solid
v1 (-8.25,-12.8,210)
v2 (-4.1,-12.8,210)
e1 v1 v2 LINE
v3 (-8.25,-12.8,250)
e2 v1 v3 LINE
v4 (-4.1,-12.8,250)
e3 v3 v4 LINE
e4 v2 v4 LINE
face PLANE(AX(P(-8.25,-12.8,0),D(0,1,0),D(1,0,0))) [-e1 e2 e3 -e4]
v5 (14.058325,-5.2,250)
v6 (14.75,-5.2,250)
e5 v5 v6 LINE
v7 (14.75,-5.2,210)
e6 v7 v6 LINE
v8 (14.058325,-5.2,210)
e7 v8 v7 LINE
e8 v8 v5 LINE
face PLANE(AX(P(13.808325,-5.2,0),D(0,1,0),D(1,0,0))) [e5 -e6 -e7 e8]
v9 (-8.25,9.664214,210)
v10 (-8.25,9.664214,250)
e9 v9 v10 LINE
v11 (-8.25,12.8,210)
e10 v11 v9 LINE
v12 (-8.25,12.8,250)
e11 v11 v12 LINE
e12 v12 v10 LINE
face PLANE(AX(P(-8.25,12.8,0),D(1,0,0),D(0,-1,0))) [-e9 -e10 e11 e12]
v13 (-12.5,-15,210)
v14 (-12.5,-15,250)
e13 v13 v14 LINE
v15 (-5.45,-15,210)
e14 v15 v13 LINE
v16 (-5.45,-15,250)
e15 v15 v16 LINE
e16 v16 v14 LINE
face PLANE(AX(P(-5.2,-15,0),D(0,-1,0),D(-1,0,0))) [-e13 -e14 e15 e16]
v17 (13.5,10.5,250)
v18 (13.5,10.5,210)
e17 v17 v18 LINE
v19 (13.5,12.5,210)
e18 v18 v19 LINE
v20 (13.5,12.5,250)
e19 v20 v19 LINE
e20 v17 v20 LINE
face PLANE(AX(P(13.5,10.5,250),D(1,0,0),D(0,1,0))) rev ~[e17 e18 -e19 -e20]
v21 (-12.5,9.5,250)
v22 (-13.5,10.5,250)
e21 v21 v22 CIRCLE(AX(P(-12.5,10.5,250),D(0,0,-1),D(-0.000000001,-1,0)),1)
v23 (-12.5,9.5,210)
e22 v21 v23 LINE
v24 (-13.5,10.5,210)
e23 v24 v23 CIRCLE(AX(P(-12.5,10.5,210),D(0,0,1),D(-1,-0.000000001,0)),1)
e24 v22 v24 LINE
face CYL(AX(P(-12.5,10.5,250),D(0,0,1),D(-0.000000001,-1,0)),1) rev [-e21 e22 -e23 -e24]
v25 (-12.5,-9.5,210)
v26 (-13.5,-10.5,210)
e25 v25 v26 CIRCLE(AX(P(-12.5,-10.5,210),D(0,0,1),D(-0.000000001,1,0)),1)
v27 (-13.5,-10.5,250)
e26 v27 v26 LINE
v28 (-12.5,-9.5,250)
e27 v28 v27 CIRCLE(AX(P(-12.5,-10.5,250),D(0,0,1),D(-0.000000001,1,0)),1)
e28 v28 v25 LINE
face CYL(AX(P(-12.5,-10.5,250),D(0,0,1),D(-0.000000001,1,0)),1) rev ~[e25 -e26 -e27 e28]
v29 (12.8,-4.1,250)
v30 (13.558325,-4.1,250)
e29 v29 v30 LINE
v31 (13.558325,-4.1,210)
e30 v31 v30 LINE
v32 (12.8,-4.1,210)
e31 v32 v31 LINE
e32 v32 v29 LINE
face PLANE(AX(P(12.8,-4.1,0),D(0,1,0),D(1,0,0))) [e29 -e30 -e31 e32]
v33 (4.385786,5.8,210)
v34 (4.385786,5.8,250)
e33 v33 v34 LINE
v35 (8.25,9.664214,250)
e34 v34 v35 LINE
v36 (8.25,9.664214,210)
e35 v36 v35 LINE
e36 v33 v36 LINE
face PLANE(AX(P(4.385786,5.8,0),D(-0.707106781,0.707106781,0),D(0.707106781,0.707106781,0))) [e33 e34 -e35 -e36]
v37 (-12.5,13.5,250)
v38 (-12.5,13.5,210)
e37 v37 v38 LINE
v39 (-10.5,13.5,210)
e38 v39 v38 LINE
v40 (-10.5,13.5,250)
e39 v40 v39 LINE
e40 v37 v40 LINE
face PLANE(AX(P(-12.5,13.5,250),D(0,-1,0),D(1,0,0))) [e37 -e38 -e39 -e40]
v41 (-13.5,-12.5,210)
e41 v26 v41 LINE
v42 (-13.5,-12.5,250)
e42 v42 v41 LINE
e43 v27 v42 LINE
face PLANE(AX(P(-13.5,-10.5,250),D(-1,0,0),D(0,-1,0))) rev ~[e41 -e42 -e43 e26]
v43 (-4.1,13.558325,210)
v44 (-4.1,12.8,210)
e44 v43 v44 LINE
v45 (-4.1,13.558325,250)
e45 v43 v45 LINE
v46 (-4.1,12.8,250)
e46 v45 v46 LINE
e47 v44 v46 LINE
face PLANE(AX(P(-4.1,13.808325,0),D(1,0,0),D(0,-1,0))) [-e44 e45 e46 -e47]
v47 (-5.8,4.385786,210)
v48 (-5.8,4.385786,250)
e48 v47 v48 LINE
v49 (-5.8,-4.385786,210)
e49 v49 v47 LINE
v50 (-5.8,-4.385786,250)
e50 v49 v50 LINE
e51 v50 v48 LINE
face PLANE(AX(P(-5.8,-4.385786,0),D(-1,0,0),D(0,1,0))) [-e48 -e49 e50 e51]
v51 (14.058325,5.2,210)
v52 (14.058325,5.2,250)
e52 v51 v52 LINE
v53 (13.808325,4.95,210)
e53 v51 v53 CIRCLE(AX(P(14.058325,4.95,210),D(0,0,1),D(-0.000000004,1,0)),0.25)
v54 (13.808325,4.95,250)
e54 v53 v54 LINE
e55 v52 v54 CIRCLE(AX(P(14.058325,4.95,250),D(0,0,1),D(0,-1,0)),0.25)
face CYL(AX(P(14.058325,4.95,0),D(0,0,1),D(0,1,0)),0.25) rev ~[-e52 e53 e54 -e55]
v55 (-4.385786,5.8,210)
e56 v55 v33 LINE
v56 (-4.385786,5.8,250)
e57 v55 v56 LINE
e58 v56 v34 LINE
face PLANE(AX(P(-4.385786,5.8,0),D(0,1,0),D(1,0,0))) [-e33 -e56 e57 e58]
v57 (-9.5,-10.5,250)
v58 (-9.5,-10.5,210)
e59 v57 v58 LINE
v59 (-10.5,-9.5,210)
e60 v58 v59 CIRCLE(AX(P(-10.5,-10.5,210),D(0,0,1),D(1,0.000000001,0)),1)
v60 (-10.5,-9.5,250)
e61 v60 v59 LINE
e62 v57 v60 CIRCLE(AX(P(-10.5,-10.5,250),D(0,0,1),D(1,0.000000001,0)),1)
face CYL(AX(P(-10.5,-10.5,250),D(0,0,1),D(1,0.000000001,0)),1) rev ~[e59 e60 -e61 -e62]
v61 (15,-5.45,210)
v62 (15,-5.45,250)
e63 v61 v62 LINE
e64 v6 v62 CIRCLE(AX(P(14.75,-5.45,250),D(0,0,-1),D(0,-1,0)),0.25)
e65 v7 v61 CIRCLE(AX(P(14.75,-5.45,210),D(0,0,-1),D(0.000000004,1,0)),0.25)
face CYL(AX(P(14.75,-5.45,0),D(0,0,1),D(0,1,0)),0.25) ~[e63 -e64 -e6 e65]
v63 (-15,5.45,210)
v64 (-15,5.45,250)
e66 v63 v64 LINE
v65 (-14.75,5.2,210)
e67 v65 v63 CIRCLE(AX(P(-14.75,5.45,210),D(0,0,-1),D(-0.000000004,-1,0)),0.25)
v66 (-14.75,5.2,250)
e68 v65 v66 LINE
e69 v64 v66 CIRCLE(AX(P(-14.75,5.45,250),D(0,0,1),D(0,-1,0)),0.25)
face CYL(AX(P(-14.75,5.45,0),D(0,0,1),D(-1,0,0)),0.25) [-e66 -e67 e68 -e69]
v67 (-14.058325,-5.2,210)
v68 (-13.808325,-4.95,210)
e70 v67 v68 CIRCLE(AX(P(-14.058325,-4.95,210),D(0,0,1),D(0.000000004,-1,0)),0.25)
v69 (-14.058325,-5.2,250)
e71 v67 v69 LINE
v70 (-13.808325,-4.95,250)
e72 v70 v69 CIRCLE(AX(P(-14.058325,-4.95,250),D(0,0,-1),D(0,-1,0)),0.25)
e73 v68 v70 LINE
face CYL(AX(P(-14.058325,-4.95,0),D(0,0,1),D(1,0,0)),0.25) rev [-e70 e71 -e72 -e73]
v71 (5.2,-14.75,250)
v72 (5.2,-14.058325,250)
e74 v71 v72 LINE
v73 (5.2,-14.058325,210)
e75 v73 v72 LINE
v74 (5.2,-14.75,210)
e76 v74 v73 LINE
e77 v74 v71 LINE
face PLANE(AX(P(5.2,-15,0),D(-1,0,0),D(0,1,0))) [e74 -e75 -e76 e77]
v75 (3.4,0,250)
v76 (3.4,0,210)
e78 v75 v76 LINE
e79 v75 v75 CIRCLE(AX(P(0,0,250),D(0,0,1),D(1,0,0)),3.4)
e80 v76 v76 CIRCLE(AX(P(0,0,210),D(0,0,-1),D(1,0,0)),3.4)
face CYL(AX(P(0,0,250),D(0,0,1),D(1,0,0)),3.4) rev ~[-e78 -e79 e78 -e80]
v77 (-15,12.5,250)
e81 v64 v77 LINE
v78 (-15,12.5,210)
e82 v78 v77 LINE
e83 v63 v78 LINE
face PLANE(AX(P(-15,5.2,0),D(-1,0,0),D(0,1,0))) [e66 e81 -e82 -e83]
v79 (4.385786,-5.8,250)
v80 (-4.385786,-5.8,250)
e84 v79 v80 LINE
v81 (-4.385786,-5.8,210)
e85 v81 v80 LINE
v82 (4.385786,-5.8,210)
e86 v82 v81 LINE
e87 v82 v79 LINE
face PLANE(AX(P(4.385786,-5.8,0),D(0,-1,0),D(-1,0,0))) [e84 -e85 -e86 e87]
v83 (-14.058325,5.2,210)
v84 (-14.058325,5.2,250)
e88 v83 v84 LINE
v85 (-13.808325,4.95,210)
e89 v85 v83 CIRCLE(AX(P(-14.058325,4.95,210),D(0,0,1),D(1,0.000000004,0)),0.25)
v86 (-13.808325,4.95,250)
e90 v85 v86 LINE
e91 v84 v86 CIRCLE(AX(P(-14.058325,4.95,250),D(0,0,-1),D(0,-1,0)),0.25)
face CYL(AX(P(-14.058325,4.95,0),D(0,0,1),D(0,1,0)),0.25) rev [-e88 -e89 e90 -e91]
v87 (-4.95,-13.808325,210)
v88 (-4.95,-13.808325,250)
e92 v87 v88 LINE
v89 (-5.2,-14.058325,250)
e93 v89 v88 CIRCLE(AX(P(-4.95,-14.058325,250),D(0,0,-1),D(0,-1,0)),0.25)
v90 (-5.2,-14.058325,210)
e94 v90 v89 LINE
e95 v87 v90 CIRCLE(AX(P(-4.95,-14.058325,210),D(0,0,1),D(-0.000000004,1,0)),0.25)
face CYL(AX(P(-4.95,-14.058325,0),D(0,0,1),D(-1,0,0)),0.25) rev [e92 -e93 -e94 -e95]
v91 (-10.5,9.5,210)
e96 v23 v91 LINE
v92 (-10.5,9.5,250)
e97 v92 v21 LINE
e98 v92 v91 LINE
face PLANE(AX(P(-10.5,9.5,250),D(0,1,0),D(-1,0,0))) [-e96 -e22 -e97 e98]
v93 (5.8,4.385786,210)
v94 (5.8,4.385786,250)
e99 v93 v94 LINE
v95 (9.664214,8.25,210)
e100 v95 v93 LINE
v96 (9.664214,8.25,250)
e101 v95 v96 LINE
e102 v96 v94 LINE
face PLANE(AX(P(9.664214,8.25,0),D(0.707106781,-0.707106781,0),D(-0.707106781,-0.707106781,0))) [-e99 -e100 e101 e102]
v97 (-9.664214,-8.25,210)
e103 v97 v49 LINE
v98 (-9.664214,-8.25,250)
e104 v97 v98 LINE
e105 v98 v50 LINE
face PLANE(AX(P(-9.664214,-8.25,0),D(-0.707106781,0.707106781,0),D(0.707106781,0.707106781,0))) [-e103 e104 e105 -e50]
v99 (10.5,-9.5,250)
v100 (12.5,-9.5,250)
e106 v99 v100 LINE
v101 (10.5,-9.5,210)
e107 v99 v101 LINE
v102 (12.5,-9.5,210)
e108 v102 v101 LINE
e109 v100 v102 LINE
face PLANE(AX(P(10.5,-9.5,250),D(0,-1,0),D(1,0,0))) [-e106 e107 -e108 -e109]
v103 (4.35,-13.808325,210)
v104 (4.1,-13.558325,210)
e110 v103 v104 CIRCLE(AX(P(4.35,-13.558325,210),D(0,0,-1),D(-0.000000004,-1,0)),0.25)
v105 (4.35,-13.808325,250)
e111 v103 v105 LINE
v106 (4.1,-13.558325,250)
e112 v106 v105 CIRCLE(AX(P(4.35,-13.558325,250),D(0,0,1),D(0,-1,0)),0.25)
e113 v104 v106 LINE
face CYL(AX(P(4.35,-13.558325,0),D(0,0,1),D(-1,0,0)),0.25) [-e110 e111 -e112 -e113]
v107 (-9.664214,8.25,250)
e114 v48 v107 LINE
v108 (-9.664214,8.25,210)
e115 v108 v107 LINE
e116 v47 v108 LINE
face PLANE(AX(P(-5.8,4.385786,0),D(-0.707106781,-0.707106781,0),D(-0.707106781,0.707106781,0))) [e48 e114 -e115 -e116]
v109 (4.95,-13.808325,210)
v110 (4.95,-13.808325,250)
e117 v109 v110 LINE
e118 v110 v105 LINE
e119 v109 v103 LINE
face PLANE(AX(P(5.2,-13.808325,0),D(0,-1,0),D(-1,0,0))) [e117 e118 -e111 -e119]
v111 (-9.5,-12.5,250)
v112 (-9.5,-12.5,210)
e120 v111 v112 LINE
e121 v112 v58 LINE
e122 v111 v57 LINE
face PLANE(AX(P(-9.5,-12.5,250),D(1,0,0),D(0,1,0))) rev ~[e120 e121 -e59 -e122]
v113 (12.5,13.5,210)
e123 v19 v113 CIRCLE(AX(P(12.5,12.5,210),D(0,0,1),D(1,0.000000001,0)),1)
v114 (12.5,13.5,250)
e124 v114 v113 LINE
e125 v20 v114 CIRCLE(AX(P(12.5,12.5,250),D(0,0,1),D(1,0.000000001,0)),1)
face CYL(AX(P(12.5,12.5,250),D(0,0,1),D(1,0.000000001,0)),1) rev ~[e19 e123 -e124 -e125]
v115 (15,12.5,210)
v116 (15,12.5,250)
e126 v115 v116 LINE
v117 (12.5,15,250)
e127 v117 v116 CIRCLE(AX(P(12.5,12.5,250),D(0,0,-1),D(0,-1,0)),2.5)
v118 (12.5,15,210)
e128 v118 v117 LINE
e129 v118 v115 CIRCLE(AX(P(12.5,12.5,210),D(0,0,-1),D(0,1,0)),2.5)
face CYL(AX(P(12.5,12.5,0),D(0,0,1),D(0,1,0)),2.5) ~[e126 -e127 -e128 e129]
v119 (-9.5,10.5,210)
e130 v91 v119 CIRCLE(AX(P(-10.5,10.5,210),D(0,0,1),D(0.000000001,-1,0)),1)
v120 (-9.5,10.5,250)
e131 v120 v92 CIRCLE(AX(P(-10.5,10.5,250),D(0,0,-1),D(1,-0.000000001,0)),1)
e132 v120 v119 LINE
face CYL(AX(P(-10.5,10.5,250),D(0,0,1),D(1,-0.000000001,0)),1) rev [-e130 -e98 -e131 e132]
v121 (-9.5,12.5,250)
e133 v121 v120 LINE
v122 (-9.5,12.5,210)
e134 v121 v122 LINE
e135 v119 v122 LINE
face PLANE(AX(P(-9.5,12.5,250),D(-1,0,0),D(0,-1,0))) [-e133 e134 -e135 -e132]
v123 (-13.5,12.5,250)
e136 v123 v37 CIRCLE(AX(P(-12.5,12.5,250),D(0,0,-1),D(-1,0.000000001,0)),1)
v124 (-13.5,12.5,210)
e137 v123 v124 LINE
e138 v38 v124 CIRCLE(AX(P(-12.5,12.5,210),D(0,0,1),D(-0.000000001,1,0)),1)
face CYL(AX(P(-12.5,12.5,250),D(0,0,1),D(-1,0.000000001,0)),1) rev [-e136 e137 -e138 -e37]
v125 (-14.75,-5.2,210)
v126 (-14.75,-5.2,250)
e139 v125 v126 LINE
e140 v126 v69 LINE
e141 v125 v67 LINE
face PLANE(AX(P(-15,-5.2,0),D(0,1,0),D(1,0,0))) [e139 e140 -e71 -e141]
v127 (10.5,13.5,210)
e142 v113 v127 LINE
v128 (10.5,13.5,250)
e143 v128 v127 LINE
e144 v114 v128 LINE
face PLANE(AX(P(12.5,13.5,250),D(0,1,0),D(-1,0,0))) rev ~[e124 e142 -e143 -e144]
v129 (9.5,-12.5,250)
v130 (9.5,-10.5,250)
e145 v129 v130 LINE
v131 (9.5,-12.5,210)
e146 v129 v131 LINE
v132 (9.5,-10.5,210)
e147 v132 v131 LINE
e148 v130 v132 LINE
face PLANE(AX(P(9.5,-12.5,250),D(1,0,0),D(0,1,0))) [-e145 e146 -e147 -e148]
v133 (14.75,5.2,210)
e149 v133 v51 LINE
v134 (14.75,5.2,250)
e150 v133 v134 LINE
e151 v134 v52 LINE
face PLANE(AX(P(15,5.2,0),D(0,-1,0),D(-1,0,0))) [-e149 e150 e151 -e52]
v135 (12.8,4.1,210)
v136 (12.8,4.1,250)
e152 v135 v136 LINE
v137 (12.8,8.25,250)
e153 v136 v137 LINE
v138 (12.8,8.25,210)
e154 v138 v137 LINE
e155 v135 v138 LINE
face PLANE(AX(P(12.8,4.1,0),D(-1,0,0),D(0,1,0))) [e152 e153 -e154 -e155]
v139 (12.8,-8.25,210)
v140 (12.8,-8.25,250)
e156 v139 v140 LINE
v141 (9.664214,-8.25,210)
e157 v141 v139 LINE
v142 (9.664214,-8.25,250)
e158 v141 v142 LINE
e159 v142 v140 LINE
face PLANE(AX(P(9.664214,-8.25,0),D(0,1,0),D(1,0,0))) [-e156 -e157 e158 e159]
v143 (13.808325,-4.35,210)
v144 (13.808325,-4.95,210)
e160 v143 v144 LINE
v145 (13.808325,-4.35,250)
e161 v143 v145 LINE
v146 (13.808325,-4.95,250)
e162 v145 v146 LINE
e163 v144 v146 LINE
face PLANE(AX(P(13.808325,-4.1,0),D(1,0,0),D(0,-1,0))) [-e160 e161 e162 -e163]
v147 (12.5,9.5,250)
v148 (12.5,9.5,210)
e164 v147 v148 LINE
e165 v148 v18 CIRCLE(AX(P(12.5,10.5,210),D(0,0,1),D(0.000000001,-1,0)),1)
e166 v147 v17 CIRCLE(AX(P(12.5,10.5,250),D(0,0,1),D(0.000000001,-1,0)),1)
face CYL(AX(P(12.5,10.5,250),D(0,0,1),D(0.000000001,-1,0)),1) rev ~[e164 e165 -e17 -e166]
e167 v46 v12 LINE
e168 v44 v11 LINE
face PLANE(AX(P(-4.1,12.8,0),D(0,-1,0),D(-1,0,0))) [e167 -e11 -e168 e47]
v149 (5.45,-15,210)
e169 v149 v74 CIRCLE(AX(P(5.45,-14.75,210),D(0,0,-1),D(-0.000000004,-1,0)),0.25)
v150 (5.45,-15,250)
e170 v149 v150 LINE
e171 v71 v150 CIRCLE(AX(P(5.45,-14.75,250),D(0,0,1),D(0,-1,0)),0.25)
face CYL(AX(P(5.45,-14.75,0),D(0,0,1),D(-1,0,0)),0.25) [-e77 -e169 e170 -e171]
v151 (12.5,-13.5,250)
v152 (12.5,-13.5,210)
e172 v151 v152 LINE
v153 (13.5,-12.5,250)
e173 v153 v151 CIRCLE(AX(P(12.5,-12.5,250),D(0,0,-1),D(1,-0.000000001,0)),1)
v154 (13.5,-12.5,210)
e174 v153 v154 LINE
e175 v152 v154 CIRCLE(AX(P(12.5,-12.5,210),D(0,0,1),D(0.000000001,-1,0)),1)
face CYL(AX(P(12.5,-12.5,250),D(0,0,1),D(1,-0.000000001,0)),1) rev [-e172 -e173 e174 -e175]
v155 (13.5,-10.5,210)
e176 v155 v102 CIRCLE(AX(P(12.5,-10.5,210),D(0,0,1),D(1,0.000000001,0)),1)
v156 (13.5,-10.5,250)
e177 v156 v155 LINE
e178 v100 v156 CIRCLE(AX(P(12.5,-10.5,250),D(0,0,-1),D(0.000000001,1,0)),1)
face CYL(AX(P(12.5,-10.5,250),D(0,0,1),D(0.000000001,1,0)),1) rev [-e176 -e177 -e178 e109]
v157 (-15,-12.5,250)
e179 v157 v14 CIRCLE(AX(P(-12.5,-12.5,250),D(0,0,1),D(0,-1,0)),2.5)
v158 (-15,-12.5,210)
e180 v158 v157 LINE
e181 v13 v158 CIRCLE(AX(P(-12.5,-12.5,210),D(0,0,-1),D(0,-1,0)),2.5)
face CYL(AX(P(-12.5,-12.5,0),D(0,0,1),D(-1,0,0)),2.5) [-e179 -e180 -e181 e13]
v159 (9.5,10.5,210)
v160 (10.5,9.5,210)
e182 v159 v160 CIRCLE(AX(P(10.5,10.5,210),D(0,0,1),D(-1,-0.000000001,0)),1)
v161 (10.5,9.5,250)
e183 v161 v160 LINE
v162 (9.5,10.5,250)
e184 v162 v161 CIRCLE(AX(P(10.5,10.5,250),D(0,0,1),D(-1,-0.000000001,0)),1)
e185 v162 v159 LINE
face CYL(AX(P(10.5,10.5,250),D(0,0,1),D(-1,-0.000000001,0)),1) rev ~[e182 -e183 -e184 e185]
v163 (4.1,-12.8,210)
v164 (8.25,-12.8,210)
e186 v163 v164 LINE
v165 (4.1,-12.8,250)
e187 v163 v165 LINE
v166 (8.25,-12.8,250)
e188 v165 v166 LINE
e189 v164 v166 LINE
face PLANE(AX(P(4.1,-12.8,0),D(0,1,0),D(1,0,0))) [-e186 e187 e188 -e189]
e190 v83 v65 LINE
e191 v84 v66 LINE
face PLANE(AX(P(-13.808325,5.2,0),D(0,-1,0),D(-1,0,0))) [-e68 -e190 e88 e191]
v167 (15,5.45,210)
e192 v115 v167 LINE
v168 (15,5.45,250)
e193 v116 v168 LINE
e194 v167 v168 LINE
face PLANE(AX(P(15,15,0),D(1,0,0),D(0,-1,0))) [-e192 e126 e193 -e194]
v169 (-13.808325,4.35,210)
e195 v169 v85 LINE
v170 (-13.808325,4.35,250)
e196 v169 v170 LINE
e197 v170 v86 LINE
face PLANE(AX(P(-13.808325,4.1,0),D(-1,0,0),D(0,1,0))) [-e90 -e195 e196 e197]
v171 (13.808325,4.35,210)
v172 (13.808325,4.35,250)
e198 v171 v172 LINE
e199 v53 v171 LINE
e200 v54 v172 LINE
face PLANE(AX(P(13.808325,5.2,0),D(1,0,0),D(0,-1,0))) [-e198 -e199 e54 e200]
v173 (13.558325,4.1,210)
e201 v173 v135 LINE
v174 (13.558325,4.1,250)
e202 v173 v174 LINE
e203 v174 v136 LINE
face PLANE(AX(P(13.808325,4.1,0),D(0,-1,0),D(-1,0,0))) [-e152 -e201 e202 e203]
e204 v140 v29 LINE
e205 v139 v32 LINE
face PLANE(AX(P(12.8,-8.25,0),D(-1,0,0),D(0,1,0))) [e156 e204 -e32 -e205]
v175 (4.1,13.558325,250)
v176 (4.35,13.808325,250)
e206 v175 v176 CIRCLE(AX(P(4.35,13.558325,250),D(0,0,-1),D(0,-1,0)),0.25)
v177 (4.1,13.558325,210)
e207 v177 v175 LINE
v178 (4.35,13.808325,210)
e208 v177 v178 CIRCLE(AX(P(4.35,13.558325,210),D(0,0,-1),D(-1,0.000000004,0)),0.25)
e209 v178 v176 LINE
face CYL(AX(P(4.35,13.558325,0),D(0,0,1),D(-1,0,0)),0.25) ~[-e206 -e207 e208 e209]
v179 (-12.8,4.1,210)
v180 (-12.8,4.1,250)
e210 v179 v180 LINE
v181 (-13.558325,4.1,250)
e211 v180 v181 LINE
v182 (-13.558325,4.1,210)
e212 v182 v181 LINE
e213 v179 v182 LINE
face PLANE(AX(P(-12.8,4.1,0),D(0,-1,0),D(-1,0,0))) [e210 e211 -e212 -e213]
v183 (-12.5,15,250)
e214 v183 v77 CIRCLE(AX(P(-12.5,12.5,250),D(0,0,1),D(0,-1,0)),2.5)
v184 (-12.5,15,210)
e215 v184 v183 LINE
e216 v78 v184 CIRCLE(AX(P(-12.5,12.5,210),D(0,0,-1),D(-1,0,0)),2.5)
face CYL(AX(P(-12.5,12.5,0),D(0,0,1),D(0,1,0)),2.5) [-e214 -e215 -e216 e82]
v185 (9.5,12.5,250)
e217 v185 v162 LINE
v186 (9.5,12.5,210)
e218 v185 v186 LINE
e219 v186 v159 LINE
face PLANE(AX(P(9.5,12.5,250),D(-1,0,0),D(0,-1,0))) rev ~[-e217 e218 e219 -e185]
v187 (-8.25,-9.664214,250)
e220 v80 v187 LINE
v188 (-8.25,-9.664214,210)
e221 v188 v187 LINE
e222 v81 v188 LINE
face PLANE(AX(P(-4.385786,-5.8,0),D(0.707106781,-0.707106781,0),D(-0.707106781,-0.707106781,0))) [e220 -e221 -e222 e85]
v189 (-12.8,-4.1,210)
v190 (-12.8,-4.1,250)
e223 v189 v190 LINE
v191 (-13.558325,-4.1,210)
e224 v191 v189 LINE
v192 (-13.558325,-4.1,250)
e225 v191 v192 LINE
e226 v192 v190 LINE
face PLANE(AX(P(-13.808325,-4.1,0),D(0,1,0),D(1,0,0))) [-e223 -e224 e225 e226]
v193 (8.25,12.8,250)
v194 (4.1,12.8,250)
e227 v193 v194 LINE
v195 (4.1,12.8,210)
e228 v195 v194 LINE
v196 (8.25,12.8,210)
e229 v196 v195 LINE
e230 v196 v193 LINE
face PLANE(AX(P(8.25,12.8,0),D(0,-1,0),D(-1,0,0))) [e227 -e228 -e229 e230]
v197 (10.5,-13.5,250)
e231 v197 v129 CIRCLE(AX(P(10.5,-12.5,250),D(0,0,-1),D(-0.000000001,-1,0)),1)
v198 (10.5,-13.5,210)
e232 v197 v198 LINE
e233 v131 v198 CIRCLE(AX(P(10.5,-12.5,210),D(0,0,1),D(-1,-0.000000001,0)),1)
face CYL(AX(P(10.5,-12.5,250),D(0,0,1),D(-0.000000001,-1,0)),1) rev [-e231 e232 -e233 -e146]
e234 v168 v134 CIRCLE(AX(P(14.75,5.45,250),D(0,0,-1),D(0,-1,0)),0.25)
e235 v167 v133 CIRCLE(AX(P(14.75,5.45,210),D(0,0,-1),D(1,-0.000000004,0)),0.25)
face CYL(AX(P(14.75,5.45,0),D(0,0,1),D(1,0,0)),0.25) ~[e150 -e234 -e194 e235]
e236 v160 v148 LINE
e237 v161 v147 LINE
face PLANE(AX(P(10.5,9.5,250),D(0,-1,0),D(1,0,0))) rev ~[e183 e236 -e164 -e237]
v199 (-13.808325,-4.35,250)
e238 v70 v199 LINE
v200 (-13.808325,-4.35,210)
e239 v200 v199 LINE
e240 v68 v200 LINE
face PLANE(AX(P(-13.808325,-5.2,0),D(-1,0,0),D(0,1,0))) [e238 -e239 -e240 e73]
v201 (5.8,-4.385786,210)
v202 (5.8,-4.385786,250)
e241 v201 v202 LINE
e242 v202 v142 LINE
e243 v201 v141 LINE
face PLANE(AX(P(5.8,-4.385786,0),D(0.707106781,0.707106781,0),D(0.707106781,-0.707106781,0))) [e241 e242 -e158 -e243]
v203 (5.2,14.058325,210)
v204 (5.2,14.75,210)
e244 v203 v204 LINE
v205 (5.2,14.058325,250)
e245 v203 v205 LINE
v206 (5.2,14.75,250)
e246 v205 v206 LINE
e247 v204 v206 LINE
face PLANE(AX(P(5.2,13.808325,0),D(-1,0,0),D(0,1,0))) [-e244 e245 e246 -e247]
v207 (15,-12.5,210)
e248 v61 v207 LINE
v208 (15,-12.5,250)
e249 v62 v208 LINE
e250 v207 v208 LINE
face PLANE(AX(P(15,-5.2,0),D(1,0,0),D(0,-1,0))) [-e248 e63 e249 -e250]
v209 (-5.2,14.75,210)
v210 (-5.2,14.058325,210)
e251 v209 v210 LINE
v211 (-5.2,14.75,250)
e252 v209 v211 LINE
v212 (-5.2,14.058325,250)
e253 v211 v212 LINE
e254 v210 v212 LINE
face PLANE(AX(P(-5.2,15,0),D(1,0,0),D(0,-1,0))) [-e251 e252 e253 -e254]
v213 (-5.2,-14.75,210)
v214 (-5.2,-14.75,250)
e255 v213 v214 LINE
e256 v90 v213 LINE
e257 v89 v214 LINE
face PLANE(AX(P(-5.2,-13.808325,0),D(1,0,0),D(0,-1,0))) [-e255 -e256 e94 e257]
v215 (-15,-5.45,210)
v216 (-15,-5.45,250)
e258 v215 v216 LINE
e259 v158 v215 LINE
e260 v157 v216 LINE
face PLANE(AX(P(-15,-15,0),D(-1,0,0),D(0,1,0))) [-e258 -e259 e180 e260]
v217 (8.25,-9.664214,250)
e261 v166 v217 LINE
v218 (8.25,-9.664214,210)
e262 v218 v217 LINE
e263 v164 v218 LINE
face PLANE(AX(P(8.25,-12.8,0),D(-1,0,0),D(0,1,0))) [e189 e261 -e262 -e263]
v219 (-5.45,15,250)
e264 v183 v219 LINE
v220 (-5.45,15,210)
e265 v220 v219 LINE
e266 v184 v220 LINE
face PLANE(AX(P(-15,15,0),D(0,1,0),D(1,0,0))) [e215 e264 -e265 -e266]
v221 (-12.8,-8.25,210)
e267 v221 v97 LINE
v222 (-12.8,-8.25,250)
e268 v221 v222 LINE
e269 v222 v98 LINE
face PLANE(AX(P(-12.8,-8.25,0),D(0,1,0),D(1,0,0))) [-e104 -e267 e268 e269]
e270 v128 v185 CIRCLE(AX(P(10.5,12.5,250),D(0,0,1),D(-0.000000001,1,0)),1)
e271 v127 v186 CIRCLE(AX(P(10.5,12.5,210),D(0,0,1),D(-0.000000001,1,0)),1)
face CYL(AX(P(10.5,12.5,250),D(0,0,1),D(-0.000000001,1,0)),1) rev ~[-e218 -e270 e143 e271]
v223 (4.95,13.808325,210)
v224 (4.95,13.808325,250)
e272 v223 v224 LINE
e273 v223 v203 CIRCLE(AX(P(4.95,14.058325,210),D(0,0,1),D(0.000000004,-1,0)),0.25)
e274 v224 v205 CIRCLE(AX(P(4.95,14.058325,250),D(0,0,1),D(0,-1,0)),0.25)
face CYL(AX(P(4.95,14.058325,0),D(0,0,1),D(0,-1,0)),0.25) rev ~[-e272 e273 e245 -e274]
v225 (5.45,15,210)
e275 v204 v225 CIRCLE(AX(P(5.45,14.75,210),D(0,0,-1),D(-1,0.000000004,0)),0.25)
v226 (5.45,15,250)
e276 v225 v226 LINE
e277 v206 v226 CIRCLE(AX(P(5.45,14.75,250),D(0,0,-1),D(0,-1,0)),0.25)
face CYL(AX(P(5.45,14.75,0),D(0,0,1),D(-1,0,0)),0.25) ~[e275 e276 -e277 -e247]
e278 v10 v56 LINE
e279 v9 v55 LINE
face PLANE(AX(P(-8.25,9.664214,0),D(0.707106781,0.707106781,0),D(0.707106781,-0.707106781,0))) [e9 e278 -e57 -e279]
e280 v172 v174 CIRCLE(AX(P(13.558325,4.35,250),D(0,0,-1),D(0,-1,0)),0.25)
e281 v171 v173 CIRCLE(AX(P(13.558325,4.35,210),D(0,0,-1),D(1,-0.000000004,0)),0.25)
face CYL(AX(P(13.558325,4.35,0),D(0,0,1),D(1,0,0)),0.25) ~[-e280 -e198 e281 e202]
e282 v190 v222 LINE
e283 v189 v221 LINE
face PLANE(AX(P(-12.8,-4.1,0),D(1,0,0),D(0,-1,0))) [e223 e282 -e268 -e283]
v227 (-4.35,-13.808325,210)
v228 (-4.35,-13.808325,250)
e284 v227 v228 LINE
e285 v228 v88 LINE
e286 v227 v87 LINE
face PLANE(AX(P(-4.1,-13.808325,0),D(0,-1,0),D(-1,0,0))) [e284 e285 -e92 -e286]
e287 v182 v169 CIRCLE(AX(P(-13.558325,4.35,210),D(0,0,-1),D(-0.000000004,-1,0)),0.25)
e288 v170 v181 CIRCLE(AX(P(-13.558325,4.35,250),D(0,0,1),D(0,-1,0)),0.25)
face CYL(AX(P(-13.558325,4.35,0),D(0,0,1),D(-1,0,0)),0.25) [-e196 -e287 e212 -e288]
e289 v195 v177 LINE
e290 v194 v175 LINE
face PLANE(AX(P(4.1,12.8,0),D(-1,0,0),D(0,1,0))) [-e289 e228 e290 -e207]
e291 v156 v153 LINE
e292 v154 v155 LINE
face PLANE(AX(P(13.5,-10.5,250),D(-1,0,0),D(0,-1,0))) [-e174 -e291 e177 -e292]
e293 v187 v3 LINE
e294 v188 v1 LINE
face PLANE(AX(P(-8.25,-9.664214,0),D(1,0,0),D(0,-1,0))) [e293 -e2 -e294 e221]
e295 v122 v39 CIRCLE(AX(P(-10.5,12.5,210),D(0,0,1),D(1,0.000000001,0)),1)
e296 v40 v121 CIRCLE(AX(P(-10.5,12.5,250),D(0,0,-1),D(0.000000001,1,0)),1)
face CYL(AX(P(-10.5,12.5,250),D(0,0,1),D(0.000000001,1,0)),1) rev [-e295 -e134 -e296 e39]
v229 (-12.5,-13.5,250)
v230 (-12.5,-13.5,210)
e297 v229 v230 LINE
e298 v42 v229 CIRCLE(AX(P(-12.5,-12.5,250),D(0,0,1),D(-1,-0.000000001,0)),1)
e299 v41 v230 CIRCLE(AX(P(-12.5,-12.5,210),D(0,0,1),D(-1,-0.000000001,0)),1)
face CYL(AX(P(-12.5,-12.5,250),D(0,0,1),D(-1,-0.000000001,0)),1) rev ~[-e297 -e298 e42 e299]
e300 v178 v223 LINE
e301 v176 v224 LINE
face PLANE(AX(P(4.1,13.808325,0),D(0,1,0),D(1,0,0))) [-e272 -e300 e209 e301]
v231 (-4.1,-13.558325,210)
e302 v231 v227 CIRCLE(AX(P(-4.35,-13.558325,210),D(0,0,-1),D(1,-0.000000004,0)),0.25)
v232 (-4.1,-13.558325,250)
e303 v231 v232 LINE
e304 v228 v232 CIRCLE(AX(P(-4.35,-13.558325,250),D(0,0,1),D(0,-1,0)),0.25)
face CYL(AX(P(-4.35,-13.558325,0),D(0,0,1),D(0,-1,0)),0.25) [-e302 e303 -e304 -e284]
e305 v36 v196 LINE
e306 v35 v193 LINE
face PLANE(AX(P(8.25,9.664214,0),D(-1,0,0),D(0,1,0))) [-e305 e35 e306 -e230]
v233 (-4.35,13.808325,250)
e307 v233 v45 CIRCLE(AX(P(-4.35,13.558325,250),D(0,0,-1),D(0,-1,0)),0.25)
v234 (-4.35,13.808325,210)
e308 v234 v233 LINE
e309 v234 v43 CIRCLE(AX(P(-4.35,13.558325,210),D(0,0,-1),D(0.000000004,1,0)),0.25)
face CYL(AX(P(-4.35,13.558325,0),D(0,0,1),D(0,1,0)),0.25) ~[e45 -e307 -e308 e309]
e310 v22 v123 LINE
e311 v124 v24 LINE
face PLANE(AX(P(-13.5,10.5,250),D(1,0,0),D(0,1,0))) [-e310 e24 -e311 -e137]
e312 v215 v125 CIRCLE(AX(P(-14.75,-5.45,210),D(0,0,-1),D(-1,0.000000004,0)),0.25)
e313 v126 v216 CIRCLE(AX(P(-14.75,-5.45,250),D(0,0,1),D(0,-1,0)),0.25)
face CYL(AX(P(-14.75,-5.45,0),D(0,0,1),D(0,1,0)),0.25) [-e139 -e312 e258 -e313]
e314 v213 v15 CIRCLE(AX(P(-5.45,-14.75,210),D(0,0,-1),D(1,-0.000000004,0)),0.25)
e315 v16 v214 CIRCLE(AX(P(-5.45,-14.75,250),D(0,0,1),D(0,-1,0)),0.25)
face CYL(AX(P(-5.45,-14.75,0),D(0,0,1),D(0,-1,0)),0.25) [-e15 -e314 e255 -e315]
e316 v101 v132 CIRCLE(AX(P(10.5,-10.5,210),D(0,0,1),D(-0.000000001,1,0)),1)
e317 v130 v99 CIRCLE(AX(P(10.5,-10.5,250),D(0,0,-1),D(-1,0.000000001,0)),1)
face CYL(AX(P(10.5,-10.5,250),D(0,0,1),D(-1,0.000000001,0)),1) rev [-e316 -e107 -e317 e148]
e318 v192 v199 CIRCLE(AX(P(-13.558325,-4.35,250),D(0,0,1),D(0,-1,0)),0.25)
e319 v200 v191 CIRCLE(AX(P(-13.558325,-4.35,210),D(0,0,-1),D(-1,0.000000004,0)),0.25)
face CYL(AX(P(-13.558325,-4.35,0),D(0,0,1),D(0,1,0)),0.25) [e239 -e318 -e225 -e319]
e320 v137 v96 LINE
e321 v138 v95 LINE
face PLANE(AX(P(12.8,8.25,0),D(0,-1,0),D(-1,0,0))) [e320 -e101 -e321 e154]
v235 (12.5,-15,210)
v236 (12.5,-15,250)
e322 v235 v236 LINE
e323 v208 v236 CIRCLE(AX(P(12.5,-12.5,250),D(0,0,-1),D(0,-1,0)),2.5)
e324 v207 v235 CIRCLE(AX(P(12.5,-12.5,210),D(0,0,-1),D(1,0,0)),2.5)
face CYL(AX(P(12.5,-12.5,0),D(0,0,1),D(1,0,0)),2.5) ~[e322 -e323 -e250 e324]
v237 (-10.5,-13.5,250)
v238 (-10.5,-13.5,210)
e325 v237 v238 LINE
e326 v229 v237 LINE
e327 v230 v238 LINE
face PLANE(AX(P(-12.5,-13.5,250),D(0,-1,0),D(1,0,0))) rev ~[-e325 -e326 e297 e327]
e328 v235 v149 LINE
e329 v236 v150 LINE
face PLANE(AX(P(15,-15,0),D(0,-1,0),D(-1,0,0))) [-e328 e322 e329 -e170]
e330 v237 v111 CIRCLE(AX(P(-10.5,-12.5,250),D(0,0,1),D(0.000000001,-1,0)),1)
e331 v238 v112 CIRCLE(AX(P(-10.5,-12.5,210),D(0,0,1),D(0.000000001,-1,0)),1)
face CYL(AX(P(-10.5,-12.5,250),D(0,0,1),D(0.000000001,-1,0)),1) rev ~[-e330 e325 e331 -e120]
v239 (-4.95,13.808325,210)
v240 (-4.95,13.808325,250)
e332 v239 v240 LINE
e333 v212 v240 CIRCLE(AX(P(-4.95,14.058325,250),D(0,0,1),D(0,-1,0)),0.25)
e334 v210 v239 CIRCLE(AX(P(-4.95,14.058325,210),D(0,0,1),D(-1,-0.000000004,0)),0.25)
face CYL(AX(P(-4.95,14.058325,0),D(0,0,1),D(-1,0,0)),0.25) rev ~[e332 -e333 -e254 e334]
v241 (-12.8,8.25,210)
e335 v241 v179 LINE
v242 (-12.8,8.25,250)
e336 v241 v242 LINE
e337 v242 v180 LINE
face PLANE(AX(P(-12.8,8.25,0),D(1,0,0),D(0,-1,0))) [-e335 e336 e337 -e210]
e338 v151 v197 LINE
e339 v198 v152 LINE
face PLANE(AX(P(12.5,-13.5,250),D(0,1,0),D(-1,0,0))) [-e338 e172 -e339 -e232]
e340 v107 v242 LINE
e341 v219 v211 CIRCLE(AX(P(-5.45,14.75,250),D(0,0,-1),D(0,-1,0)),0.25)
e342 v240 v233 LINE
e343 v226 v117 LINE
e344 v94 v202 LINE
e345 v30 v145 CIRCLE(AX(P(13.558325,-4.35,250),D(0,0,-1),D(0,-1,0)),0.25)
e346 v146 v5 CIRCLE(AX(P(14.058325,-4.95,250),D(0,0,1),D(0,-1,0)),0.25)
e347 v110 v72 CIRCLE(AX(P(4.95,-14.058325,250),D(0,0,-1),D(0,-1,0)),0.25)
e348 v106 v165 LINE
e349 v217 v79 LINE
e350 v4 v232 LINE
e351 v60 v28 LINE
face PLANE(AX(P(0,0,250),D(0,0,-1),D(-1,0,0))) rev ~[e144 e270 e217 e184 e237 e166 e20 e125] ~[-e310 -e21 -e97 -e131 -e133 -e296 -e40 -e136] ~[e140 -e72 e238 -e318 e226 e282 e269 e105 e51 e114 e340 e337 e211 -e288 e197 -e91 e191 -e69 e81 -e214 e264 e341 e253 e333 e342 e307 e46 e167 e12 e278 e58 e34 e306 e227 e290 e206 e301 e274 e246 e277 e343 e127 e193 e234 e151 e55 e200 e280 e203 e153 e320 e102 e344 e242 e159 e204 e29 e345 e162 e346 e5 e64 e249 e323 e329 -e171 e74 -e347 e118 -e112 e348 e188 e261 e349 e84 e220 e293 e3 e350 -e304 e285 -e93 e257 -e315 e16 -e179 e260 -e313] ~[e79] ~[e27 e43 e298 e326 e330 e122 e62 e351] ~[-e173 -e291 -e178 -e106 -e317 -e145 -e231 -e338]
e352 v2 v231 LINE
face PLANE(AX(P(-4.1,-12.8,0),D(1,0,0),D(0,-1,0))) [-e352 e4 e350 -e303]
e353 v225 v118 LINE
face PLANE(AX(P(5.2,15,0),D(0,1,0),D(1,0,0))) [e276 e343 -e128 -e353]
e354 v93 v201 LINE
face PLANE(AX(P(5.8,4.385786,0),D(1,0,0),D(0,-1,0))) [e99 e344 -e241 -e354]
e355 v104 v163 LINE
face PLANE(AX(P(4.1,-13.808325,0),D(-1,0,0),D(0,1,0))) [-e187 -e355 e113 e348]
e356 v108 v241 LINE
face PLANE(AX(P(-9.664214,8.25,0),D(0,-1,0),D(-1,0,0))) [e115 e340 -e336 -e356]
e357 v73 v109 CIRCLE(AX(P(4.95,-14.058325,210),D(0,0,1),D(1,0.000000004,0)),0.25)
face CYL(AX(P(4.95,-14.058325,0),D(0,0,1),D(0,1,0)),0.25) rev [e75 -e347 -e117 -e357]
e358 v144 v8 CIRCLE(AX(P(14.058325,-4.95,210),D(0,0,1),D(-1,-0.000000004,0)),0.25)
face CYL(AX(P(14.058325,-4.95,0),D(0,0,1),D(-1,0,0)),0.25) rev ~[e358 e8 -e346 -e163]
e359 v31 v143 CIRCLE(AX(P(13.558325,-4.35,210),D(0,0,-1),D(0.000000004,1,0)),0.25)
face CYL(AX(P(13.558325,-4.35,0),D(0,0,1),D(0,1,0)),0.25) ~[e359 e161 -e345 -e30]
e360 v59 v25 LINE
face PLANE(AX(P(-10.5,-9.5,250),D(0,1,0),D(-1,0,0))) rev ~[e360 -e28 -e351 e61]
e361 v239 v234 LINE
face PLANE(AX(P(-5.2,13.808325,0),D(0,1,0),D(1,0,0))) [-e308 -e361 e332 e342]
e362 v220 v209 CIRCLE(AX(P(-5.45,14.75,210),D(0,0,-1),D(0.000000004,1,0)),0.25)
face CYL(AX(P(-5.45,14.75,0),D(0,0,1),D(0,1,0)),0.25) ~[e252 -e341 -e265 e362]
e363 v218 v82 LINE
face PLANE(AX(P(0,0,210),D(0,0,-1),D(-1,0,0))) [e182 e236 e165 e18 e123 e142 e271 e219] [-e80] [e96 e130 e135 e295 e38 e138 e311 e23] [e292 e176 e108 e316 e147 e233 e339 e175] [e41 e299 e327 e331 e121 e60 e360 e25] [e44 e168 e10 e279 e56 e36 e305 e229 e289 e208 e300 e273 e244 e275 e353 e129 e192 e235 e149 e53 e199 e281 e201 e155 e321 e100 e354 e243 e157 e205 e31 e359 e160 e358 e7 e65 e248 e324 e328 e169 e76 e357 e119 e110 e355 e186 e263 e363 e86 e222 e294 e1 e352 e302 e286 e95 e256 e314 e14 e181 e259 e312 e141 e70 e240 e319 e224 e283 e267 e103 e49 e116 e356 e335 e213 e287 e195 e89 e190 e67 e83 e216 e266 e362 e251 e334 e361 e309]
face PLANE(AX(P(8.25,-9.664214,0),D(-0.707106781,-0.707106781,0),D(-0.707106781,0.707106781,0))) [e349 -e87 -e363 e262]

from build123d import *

# Parameters (mm, degrees)
BOSS_EXTRUDE1_DEPTH = 250
SKETCH2_R           = 3.4
CUT_EXTRUDE1_DEPTH  = 251.898385806
FILLET1_R           = 2.5
FILLET2_R           = 0.25
CUT_EXTRUDE3_START  = -210
SKETCH3_R           = 3.4
CUT_EXTRUDE3_DEPTH  = 210


with BuildPart() as part:
    # Sketch1 → Boss-Extrude1 (new body)
    with BuildSketch(Plane.XY):
        Polygon((-15, 15), (-5.2, 15), (-5.2, 13.808325472), (-4.1, 13.808325472), (-4.1, 12.8), (-8.25, 12.8), (-8.25, 9.664213562), (-4.385786438, 5.8), (4.385786438, 5.8), (8.25, 9.664213562), (8.25, 12.8), (4.1, 12.8), (4.1, 13.808325472), (5.2, 13.808325472), (5.2, 15), (15, 15), (15, 5.2), (13.808325472, 5.2), (13.808325472, 4.1), (12.8, 4.1), (12.8, 8.25), (9.664213562, 8.25), (5.8, 4.385786438), (5.8, -4.385786438), (9.664213562, -8.25), (12.8, -8.25), (12.8, -4.1), (13.808325472, -4.1), (13.808325472, -5.2), (15, -5.2), (15, -15), (5.2, -15), (5.2, -13.808325472), (4.1, -13.808325472), (4.1, -12.8), (8.25, -12.8), (8.25, -9.664213562), (4.385786438, -5.8), (-4.385786438, -5.8), (-8.25, -9.664213562), (-8.25, -12.8), (-4.1, -12.8), (-4.1, -13.808325472), (-5.2, -13.808325472), (-5.2, -15), (-15, -15), (-15, -5.2), (-13.808325472, -5.2), (-13.808325472, -4.1), (-12.8, -4.1), (-12.8, -8.25), (-9.664213562, -8.25), (-5.8, -4.385786438), (-5.8, 4.385786438), (-9.664213562, 8.25), (-12.8, 8.25), (-12.8, 4.1), (-13.808325472, 4.1), (-13.808325472, 5.2), (-15, 5.2), align=None)
    extrude(amount=BOSS_EXTRUDE1_DEPTH)

    # Sketch2 → Cut-Extrude1 (cut, through all)
    with BuildSketch(Plane.XY.offset(250)):
        Circle(SKETCH2_R)
        with BuildLine():
            Line((-12.5, 13.5), (-10.5, 13.5))
            ThreePointArc((-10.5, 13.5), (-9.792893219, 13.207106781), (-9.5, 12.5))
            Line((-9.5, 12.5), (-9.5, 10.5))
            ThreePointArc((-9.5, 10.5), (-9.792893219, 9.792893219), (-10.5, 9.5))
            Line((-10.5, 9.5), (-12.5, 9.5))
            ThreePointArc((-12.5, 9.5), (-13.207106781, 9.792893219), (-13.5, 10.5))
            Line((-13.5, 10.5), (-13.5, 12.5))
            ThreePointArc((-13.5, 12.5), (-13.207106781, 13.207106781), (-12.5, 13.5))
        make_face()
        with BuildLine():
            Line((9.5, 12.5), (9.5, 10.5))
            ThreePointArc((9.5, 10.5), (9.792893219, 9.792893219), (10.5, 9.5))
            Line((10.5, 9.5), (12.5, 9.5))
            ThreePointArc((12.5, 9.5), (13.207106781, 9.792893219), (13.5, 10.5))
            Line((13.5, 10.5), (13.5, 12.5))
            ThreePointArc((13.5, 12.5), (13.207106781, 13.207106781), (12.5, 13.5))
            Line((12.5, 13.5), (10.5, 13.5))
            ThreePointArc((10.5, 13.5), (9.792893219, 13.207106781), (9.5, 12.5))
        make_face()
        with BuildLine():
            Line((12.5, -13.5), (10.5, -13.5))
            ThreePointArc((10.5, -13.5), (9.792893219, -13.207106781), (9.5, -12.5))
            Line((9.5, -12.5), (9.5, -10.5))
            ThreePointArc((9.5, -10.5), (9.792893219, -9.792893219), (10.5, -9.5))
            Line((10.5, -9.5), (12.5, -9.5))
            ThreePointArc((12.5, -9.5), (13.207106781, -9.792893219), (13.5, -10.5))
            Line((13.5, -10.5), (13.5, -12.5))
            ThreePointArc((13.5, -12.5), (13.207106781, -13.207106781), (12.5, -13.5))
        make_face()
        with BuildLine():
            Line((-9.5, -12.5), (-9.5, -10.5))
            ThreePointArc((-9.5, -10.5), (-9.792893219, -9.792893219), (-10.5, -9.5))
            Line((-10.5, -9.5), (-12.5, -9.5))
            ThreePointArc((-12.5, -9.5), (-13.207106781, -9.792893219), (-13.5, -10.5))
            Line((-13.5, -10.5), (-13.5, -12.5))
            ThreePointArc((-13.5, -12.5), (-13.207106781, -13.207106781), (-12.5, -13.5))
            Line((-12.5, -13.5), (-10.5, -13.5))
            ThreePointArc((-10.5, -13.5), (-9.792893219, -13.207106781), (-9.5, -12.5))
        make_face()
    extrude(amount=-CUT_EXTRUDE1_DEPTH, mode=Mode.SUBTRACT)

    # Fillet1
    fillet1_edges = [part.edges().sort_by_distance(p)[0] for p in [
        (15, -15, 125),
        (-15, -15, 125),
        (-15, 15, 125),
        (15, 15, 125),
    ]]
    fillet(fillet1_edges, radius=FILLET1_R)

    # Fillet2
    fillet2_edges = [part.edges().sort_by_distance(p)[0] for p in [
        (5.2, -15, 125),
        (5.2, -13.808325472, 125),
        (4.1, -13.808325472, 125),
        (-4.1, -13.808325472, 125),
        (-5.2, -13.808325472, 125),
        (-5.2, -15, 125),
        (-15, -5.2, 125),
        (-13.808325472, -5.2, 125),
        (-13.808325472, -4.1, 125),
        (-13.808325472, 4.1, 125),
        (-13.808325472, 5.2, 125),
        (-15, 5.2, 125),
        (-5.2, 15, 125),
        (-5.2, 13.808325472, 125),
        (-4.1, 13.808325472, 125),
        (4.1, 13.808325472, 125),
        (5.2, 13.808325472, 125),
        (5.2, 15, 125),
        (15, 5.2, 125),
        (13.808325472, 5.2, 125),
        (13.808325472, 4.1, 125),
        (13.808325472, -4.1, 125),
        (13.808325472, -5.2, 125),
        (15, -5.2, 125),
    ]]
    fillet(fillet2_edges, radius=FILLET2_R)

    # Sketch3 → Cut-Extrude3 (cut)
    with BuildSketch(Plane(origin=(0, 0, 0), x_dir=(-1, 0, 0), z_dir=(0, 0, -1)).offset(CUT_EXTRUDE3_START)):
        with BuildLine():
            Line((12.8, 4.1), (13.558325472, 4.1))
            ThreePointArc((13.558325472, 4.1), (13.735102167, 4.173223305), (13.808325472, 4.35))
            Line((13.808325472, 4.35), (13.808325472, 4.95))
            ThreePointArc((13.808325472, 4.95), (13.881548777, 5.126776695), (14.058325472, 5.2))
            Line((14.058325472, 5.2), (14.75, 5.2))
            ThreePointArc((14.75, 5.2), (14.926776695, 5.273223305), (15, 5.45))
            Line((15, 5.45), (15, 12.5))
            ThreePointArc((15, 12.5), (14.267766953, 14.267766953), (12.5, 15))
            Line((12.5, 15), (5.45, 15))
            ThreePointArc((5.45, 15), (5.273223305, 14.926776695), (5.2, 14.75))
            Line((5.2, 14.75), (5.2, 14.058325472))
            ThreePointArc((5.2, 14.058325472), (5.126776695, 13.881548777), (4.95, 13.808325472))
            Line((4.95, 13.808325472), (4.35, 13.808325472))
            ThreePointArc((4.35, 13.808325472), (4.173223305, 13.735102167), (4.1, 13.558325472))
            Line((4.1, 13.558325472), (4.1, 12.8))
            Line((4.1, 12.8), (8.25, 12.8))
            Line((8.25, 12.8), (8.25, 9.664213562))
            Line((8.25, 9.664213562), (4.385786438, 5.8))
            Line((4.385786438, 5.8), (-4.385786438, 5.8))
            Line((-4.385786438, 5.8), (-8.25, 9.664213562))
            Line((-8.25, 9.664213562), (-8.25, 12.8))
            Line((-8.25, 12.8), (-4.1, 12.8))
            Line((-4.1, 12.8), (-4.1, 13.558325472))
            ThreePointArc((-4.1, 13.558325472), (-4.173223305, 13.735102167), (-4.35, 13.808325472))
            Line((-4.35, 13.808325472), (-4.95, 13.808325472))
            ThreePointArc((-4.95, 13.808325472), (-5.126776695, 13.881548777), (-5.2, 14.058325472))
            Line((-5.2, 14.058325472), (-5.2, 14.75))
            ThreePointArc((-5.2, 14.75), (-5.273223305, 14.926776695), (-5.45, 15))
            Line((-5.45, 15), (-12.5, 15))
            ThreePointArc((-12.5, 15), (-14.267766953, 14.267766953), (-15, 12.5))
            Line((-15, 12.5), (-15, 5.45))
            ThreePointArc((-15, 5.45), (-14.926776695, 5.273223305), (-14.75, 5.2))
            Line((-14.75, 5.2), (-14.058325472, 5.2))
            ThreePointArc((-14.058325472, 5.2), (-13.881548777, 5.126776695), (-13.808325472, 4.95))
            Line((-13.808325472, 4.95), (-13.808325472, 4.35))
            ThreePointArc((-13.808325472, 4.35), (-13.735102167, 4.173223305), (-13.558325472, 4.1))
            Line((-13.558325472, 4.1), (-12.8, 4.1))
            Line((-12.8, 4.1), (-12.8, 8.25))
            Line((-12.8, 8.25), (-9.664213562, 8.25))
            Line((-9.664213562, 8.25), (-5.8, 4.385786438))
            Line((-5.8, 4.385786438), (-5.8, -4.385786438))
            Line((-5.8, -4.385786438), (-9.664213562, -8.25))
            Line((-9.664213562, -8.25), (-12.8, -8.25))
            Line((-12.8, -8.25), (-12.8, -4.1))
            Line((-12.8, -4.1), (-13.558325472, -4.1))
            ThreePointArc((-13.558325472, -4.1), (-13.735102167, -4.173223305), (-13.808325472, -4.35))
            Line((-13.808325472, -4.35), (-13.808325472, -4.95))
            ThreePointArc((-13.808325472, -4.95), (-13.881548777, -5.126776695), (-14.058325472, -5.2))
            Line((-14.058325472, -5.2), (-14.75, -5.2))
            ThreePointArc((-14.75, -5.2), (-14.926776695, -5.273223305), (-15, -5.45))
            Line((-15, -5.45), (-15, -12.5))
            ThreePointArc((-15, -12.5), (-14.267766953, -14.267766953), (-12.5, -15))
            Line((-12.5, -15), (-5.45, -15))
            ThreePointArc((-5.45, -15), (-5.273223305, -14.926776695), (-5.2, -14.75))
            Line((-5.2, -14.75), (-5.2, -14.058325472))
            ThreePointArc((-5.2, -14.058325472), (-5.126776695, -13.881548777), (-4.95, -13.808325472))
            Line((-4.95, -13.808325472), (-4.35, -13.808325472))
            ThreePointArc((-4.35, -13.808325472), (-4.173223305, -13.735102167), (-4.1, -13.558325472))
            Line((-4.1, -13.558325472), (-4.1, -12.8))
            Line((-4.1, -12.8), (-8.25, -12.8))
            Line((-8.25, -12.8), (-8.25, -9.664213562))
            Line((-8.25, -9.664213562), (-4.385786438, -5.8))
            Line((-4.385786438, -5.8), (4.385786438, -5.8))
            Line((4.385786438, -5.8), (8.25, -9.664213562))
            Line((8.25, -9.664213562), (8.25, -12.8))
            Line((8.25, -12.8), (4.1, -12.8))
            Line((4.1, -12.8), (4.1, -13.558325472))
            ThreePointArc((4.1, -13.558325472), (4.173223305, -13.735102167), (4.35, -13.808325472))
            Line((4.35, -13.808325472), (4.95, -13.808325472))
            ThreePointArc((4.95, -13.808325472), (5.126776695, -13.881548777), (5.2, -14.058325472))
            Line((5.2, -14.058325472), (5.2, -14.75))
            ThreePointArc((5.2, -14.75), (5.273223305, -14.926776695), (5.45, -15))
            Line((5.45, -15), (12.5, -15))
            ThreePointArc((12.5, -15), (14.267766953, -14.267766953), (15, -12.5))
            Line((15, -12.5), (15, -5.45))
            ThreePointArc((15, -5.45), (14.926776695, -5.273223305), (14.75, -5.2))
            Line((14.75, -5.2), (14.058325472, -5.2))
            ThreePointArc((14.058325472, -5.2), (13.881548777, -5.126776695), (13.808325472, -4.95))
            Line((13.808325472, -4.95), (13.808325472, -4.35))
            ThreePointArc((13.808325472, -4.35), (13.735102167, -4.173223305), (13.558325472, -4.1))
            Line((13.558325472, -4.1), (12.8, -4.1))
            Line((12.8, -4.1), (12.8, -8.25))
            Line((12.8, -8.25), (9.664213562, -8.25))
            Line((9.664213562, -8.25), (5.8, -4.385786438))
            Line((5.8, -4.385786438), (5.8, 4.385786438))
            Line((5.8, 4.385786438), (9.664213562, 8.25))
            Line((9.664213562, 8.25), (12.8, 8.25))
            Line((12.8, 8.25), (12.8, 4.1))
        make_face()
        with Locations(Location((0, 0, 0), (0, 0, 180))):
            Circle(SKETCH3_R, mode=Mode.SUBTRACT)
        with BuildLine():
            Line((-9.5, 12.5), (-9.5, 10.5))
            ThreePointArc((-9.5, 10.5), (-9.792893219, 9.792893219), (-10.5, 9.5))
            Line((-10.5, 9.5), (-12.5, 9.5))
            ThreePointArc((-12.5, 9.5), (-13.207106781, 9.792893219), (-13.5, 10.5))
            Line((-13.5, 10.5), (-13.5, 12.5))
            ThreePointArc((-13.5, 12.5), (-13.207106781, 13.207106781), (-12.5, 13.5))
            Line((-12.5, 13.5), (-10.5, 13.5))
            ThreePointArc((-10.5, 13.5), (-9.792893219, 13.207106781), (-9.5, 12.5))
        make_face(mode=Mode.SUBTRACT)
        with BuildLine():
            Line((12.5, 9.5), (10.5, 9.5))
            ThreePointArc((10.5, 9.5), (9.792893219, 9.792893219), (9.5, 10.5))
            Line((9.5, 10.5), (9.5, 12.5))
            ThreePointArc((9.5, 12.5), (9.792893219, 13.207106781), (10.5, 13.5))
            Line((10.5, 13.5), (12.5, 13.5))
            ThreePointArc((12.5, 13.5), (13.207106781, 13.207106781), (13.5, 12.5))
            Line((13.5, 12.5), (13.5, 10.5))
            ThreePointArc((13.5, 10.5), (13.207106781, 9.792893219), (12.5, 9.5))
        make_face(mode=Mode.SUBTRACT)
        with BuildLine():
            Line((9.5, -12.5), (9.5, -10.5))
            ThreePointArc((9.5, -10.5), (9.792893219, -9.792893219), (10.5, -9.5))
            Line((10.5, -9.5), (12.5, -9.5))
            ThreePointArc((12.5, -9.5), (13.207106781, -9.792893219), (13.5, -10.5))
            Line((13.5, -10.5), (13.5, -12.5))
            ThreePointArc((13.5, -12.5), (13.207106781, -13.207106781), (12.5, -13.5))
            Line((12.5, -13.5), (10.5, -13.5))
            ThreePointArc((10.5, -13.5), (9.792893219, -13.207106781), (9.5, -12.5))
        make_face(mode=Mode.SUBTRACT)
        with BuildLine():
            Line((-9.5, -10.5), (-9.5, -12.5))
            ThreePointArc((-9.5, -12.5), (-9.792893219, -13.207106781), (-10.5, -13.5))
            Line((-10.5, -13.5), (-12.5, -13.5))
            ThreePointArc((-12.5, -13.5), (-13.207106781, -13.207106781), (-13.5, -12.5))
            Line((-13.5, -12.5), (-13.5, -10.5))
            ThreePointArc((-13.5, -10.5), (-13.207106781, -9.792893219), (-12.5, -9.5))
            Line((-12.5, -9.5), (-10.5, -9.5))
            ThreePointArc((-10.5, -9.5), (-9.792893219, -9.792893219), (-9.5, -10.5))
        make_face(mode=Mode.SUBTRACT)
    extrude(amount=CUT_EXTRUDE3_DEPTH, mode=Mode.SUBTRACT)


solid = part.part
